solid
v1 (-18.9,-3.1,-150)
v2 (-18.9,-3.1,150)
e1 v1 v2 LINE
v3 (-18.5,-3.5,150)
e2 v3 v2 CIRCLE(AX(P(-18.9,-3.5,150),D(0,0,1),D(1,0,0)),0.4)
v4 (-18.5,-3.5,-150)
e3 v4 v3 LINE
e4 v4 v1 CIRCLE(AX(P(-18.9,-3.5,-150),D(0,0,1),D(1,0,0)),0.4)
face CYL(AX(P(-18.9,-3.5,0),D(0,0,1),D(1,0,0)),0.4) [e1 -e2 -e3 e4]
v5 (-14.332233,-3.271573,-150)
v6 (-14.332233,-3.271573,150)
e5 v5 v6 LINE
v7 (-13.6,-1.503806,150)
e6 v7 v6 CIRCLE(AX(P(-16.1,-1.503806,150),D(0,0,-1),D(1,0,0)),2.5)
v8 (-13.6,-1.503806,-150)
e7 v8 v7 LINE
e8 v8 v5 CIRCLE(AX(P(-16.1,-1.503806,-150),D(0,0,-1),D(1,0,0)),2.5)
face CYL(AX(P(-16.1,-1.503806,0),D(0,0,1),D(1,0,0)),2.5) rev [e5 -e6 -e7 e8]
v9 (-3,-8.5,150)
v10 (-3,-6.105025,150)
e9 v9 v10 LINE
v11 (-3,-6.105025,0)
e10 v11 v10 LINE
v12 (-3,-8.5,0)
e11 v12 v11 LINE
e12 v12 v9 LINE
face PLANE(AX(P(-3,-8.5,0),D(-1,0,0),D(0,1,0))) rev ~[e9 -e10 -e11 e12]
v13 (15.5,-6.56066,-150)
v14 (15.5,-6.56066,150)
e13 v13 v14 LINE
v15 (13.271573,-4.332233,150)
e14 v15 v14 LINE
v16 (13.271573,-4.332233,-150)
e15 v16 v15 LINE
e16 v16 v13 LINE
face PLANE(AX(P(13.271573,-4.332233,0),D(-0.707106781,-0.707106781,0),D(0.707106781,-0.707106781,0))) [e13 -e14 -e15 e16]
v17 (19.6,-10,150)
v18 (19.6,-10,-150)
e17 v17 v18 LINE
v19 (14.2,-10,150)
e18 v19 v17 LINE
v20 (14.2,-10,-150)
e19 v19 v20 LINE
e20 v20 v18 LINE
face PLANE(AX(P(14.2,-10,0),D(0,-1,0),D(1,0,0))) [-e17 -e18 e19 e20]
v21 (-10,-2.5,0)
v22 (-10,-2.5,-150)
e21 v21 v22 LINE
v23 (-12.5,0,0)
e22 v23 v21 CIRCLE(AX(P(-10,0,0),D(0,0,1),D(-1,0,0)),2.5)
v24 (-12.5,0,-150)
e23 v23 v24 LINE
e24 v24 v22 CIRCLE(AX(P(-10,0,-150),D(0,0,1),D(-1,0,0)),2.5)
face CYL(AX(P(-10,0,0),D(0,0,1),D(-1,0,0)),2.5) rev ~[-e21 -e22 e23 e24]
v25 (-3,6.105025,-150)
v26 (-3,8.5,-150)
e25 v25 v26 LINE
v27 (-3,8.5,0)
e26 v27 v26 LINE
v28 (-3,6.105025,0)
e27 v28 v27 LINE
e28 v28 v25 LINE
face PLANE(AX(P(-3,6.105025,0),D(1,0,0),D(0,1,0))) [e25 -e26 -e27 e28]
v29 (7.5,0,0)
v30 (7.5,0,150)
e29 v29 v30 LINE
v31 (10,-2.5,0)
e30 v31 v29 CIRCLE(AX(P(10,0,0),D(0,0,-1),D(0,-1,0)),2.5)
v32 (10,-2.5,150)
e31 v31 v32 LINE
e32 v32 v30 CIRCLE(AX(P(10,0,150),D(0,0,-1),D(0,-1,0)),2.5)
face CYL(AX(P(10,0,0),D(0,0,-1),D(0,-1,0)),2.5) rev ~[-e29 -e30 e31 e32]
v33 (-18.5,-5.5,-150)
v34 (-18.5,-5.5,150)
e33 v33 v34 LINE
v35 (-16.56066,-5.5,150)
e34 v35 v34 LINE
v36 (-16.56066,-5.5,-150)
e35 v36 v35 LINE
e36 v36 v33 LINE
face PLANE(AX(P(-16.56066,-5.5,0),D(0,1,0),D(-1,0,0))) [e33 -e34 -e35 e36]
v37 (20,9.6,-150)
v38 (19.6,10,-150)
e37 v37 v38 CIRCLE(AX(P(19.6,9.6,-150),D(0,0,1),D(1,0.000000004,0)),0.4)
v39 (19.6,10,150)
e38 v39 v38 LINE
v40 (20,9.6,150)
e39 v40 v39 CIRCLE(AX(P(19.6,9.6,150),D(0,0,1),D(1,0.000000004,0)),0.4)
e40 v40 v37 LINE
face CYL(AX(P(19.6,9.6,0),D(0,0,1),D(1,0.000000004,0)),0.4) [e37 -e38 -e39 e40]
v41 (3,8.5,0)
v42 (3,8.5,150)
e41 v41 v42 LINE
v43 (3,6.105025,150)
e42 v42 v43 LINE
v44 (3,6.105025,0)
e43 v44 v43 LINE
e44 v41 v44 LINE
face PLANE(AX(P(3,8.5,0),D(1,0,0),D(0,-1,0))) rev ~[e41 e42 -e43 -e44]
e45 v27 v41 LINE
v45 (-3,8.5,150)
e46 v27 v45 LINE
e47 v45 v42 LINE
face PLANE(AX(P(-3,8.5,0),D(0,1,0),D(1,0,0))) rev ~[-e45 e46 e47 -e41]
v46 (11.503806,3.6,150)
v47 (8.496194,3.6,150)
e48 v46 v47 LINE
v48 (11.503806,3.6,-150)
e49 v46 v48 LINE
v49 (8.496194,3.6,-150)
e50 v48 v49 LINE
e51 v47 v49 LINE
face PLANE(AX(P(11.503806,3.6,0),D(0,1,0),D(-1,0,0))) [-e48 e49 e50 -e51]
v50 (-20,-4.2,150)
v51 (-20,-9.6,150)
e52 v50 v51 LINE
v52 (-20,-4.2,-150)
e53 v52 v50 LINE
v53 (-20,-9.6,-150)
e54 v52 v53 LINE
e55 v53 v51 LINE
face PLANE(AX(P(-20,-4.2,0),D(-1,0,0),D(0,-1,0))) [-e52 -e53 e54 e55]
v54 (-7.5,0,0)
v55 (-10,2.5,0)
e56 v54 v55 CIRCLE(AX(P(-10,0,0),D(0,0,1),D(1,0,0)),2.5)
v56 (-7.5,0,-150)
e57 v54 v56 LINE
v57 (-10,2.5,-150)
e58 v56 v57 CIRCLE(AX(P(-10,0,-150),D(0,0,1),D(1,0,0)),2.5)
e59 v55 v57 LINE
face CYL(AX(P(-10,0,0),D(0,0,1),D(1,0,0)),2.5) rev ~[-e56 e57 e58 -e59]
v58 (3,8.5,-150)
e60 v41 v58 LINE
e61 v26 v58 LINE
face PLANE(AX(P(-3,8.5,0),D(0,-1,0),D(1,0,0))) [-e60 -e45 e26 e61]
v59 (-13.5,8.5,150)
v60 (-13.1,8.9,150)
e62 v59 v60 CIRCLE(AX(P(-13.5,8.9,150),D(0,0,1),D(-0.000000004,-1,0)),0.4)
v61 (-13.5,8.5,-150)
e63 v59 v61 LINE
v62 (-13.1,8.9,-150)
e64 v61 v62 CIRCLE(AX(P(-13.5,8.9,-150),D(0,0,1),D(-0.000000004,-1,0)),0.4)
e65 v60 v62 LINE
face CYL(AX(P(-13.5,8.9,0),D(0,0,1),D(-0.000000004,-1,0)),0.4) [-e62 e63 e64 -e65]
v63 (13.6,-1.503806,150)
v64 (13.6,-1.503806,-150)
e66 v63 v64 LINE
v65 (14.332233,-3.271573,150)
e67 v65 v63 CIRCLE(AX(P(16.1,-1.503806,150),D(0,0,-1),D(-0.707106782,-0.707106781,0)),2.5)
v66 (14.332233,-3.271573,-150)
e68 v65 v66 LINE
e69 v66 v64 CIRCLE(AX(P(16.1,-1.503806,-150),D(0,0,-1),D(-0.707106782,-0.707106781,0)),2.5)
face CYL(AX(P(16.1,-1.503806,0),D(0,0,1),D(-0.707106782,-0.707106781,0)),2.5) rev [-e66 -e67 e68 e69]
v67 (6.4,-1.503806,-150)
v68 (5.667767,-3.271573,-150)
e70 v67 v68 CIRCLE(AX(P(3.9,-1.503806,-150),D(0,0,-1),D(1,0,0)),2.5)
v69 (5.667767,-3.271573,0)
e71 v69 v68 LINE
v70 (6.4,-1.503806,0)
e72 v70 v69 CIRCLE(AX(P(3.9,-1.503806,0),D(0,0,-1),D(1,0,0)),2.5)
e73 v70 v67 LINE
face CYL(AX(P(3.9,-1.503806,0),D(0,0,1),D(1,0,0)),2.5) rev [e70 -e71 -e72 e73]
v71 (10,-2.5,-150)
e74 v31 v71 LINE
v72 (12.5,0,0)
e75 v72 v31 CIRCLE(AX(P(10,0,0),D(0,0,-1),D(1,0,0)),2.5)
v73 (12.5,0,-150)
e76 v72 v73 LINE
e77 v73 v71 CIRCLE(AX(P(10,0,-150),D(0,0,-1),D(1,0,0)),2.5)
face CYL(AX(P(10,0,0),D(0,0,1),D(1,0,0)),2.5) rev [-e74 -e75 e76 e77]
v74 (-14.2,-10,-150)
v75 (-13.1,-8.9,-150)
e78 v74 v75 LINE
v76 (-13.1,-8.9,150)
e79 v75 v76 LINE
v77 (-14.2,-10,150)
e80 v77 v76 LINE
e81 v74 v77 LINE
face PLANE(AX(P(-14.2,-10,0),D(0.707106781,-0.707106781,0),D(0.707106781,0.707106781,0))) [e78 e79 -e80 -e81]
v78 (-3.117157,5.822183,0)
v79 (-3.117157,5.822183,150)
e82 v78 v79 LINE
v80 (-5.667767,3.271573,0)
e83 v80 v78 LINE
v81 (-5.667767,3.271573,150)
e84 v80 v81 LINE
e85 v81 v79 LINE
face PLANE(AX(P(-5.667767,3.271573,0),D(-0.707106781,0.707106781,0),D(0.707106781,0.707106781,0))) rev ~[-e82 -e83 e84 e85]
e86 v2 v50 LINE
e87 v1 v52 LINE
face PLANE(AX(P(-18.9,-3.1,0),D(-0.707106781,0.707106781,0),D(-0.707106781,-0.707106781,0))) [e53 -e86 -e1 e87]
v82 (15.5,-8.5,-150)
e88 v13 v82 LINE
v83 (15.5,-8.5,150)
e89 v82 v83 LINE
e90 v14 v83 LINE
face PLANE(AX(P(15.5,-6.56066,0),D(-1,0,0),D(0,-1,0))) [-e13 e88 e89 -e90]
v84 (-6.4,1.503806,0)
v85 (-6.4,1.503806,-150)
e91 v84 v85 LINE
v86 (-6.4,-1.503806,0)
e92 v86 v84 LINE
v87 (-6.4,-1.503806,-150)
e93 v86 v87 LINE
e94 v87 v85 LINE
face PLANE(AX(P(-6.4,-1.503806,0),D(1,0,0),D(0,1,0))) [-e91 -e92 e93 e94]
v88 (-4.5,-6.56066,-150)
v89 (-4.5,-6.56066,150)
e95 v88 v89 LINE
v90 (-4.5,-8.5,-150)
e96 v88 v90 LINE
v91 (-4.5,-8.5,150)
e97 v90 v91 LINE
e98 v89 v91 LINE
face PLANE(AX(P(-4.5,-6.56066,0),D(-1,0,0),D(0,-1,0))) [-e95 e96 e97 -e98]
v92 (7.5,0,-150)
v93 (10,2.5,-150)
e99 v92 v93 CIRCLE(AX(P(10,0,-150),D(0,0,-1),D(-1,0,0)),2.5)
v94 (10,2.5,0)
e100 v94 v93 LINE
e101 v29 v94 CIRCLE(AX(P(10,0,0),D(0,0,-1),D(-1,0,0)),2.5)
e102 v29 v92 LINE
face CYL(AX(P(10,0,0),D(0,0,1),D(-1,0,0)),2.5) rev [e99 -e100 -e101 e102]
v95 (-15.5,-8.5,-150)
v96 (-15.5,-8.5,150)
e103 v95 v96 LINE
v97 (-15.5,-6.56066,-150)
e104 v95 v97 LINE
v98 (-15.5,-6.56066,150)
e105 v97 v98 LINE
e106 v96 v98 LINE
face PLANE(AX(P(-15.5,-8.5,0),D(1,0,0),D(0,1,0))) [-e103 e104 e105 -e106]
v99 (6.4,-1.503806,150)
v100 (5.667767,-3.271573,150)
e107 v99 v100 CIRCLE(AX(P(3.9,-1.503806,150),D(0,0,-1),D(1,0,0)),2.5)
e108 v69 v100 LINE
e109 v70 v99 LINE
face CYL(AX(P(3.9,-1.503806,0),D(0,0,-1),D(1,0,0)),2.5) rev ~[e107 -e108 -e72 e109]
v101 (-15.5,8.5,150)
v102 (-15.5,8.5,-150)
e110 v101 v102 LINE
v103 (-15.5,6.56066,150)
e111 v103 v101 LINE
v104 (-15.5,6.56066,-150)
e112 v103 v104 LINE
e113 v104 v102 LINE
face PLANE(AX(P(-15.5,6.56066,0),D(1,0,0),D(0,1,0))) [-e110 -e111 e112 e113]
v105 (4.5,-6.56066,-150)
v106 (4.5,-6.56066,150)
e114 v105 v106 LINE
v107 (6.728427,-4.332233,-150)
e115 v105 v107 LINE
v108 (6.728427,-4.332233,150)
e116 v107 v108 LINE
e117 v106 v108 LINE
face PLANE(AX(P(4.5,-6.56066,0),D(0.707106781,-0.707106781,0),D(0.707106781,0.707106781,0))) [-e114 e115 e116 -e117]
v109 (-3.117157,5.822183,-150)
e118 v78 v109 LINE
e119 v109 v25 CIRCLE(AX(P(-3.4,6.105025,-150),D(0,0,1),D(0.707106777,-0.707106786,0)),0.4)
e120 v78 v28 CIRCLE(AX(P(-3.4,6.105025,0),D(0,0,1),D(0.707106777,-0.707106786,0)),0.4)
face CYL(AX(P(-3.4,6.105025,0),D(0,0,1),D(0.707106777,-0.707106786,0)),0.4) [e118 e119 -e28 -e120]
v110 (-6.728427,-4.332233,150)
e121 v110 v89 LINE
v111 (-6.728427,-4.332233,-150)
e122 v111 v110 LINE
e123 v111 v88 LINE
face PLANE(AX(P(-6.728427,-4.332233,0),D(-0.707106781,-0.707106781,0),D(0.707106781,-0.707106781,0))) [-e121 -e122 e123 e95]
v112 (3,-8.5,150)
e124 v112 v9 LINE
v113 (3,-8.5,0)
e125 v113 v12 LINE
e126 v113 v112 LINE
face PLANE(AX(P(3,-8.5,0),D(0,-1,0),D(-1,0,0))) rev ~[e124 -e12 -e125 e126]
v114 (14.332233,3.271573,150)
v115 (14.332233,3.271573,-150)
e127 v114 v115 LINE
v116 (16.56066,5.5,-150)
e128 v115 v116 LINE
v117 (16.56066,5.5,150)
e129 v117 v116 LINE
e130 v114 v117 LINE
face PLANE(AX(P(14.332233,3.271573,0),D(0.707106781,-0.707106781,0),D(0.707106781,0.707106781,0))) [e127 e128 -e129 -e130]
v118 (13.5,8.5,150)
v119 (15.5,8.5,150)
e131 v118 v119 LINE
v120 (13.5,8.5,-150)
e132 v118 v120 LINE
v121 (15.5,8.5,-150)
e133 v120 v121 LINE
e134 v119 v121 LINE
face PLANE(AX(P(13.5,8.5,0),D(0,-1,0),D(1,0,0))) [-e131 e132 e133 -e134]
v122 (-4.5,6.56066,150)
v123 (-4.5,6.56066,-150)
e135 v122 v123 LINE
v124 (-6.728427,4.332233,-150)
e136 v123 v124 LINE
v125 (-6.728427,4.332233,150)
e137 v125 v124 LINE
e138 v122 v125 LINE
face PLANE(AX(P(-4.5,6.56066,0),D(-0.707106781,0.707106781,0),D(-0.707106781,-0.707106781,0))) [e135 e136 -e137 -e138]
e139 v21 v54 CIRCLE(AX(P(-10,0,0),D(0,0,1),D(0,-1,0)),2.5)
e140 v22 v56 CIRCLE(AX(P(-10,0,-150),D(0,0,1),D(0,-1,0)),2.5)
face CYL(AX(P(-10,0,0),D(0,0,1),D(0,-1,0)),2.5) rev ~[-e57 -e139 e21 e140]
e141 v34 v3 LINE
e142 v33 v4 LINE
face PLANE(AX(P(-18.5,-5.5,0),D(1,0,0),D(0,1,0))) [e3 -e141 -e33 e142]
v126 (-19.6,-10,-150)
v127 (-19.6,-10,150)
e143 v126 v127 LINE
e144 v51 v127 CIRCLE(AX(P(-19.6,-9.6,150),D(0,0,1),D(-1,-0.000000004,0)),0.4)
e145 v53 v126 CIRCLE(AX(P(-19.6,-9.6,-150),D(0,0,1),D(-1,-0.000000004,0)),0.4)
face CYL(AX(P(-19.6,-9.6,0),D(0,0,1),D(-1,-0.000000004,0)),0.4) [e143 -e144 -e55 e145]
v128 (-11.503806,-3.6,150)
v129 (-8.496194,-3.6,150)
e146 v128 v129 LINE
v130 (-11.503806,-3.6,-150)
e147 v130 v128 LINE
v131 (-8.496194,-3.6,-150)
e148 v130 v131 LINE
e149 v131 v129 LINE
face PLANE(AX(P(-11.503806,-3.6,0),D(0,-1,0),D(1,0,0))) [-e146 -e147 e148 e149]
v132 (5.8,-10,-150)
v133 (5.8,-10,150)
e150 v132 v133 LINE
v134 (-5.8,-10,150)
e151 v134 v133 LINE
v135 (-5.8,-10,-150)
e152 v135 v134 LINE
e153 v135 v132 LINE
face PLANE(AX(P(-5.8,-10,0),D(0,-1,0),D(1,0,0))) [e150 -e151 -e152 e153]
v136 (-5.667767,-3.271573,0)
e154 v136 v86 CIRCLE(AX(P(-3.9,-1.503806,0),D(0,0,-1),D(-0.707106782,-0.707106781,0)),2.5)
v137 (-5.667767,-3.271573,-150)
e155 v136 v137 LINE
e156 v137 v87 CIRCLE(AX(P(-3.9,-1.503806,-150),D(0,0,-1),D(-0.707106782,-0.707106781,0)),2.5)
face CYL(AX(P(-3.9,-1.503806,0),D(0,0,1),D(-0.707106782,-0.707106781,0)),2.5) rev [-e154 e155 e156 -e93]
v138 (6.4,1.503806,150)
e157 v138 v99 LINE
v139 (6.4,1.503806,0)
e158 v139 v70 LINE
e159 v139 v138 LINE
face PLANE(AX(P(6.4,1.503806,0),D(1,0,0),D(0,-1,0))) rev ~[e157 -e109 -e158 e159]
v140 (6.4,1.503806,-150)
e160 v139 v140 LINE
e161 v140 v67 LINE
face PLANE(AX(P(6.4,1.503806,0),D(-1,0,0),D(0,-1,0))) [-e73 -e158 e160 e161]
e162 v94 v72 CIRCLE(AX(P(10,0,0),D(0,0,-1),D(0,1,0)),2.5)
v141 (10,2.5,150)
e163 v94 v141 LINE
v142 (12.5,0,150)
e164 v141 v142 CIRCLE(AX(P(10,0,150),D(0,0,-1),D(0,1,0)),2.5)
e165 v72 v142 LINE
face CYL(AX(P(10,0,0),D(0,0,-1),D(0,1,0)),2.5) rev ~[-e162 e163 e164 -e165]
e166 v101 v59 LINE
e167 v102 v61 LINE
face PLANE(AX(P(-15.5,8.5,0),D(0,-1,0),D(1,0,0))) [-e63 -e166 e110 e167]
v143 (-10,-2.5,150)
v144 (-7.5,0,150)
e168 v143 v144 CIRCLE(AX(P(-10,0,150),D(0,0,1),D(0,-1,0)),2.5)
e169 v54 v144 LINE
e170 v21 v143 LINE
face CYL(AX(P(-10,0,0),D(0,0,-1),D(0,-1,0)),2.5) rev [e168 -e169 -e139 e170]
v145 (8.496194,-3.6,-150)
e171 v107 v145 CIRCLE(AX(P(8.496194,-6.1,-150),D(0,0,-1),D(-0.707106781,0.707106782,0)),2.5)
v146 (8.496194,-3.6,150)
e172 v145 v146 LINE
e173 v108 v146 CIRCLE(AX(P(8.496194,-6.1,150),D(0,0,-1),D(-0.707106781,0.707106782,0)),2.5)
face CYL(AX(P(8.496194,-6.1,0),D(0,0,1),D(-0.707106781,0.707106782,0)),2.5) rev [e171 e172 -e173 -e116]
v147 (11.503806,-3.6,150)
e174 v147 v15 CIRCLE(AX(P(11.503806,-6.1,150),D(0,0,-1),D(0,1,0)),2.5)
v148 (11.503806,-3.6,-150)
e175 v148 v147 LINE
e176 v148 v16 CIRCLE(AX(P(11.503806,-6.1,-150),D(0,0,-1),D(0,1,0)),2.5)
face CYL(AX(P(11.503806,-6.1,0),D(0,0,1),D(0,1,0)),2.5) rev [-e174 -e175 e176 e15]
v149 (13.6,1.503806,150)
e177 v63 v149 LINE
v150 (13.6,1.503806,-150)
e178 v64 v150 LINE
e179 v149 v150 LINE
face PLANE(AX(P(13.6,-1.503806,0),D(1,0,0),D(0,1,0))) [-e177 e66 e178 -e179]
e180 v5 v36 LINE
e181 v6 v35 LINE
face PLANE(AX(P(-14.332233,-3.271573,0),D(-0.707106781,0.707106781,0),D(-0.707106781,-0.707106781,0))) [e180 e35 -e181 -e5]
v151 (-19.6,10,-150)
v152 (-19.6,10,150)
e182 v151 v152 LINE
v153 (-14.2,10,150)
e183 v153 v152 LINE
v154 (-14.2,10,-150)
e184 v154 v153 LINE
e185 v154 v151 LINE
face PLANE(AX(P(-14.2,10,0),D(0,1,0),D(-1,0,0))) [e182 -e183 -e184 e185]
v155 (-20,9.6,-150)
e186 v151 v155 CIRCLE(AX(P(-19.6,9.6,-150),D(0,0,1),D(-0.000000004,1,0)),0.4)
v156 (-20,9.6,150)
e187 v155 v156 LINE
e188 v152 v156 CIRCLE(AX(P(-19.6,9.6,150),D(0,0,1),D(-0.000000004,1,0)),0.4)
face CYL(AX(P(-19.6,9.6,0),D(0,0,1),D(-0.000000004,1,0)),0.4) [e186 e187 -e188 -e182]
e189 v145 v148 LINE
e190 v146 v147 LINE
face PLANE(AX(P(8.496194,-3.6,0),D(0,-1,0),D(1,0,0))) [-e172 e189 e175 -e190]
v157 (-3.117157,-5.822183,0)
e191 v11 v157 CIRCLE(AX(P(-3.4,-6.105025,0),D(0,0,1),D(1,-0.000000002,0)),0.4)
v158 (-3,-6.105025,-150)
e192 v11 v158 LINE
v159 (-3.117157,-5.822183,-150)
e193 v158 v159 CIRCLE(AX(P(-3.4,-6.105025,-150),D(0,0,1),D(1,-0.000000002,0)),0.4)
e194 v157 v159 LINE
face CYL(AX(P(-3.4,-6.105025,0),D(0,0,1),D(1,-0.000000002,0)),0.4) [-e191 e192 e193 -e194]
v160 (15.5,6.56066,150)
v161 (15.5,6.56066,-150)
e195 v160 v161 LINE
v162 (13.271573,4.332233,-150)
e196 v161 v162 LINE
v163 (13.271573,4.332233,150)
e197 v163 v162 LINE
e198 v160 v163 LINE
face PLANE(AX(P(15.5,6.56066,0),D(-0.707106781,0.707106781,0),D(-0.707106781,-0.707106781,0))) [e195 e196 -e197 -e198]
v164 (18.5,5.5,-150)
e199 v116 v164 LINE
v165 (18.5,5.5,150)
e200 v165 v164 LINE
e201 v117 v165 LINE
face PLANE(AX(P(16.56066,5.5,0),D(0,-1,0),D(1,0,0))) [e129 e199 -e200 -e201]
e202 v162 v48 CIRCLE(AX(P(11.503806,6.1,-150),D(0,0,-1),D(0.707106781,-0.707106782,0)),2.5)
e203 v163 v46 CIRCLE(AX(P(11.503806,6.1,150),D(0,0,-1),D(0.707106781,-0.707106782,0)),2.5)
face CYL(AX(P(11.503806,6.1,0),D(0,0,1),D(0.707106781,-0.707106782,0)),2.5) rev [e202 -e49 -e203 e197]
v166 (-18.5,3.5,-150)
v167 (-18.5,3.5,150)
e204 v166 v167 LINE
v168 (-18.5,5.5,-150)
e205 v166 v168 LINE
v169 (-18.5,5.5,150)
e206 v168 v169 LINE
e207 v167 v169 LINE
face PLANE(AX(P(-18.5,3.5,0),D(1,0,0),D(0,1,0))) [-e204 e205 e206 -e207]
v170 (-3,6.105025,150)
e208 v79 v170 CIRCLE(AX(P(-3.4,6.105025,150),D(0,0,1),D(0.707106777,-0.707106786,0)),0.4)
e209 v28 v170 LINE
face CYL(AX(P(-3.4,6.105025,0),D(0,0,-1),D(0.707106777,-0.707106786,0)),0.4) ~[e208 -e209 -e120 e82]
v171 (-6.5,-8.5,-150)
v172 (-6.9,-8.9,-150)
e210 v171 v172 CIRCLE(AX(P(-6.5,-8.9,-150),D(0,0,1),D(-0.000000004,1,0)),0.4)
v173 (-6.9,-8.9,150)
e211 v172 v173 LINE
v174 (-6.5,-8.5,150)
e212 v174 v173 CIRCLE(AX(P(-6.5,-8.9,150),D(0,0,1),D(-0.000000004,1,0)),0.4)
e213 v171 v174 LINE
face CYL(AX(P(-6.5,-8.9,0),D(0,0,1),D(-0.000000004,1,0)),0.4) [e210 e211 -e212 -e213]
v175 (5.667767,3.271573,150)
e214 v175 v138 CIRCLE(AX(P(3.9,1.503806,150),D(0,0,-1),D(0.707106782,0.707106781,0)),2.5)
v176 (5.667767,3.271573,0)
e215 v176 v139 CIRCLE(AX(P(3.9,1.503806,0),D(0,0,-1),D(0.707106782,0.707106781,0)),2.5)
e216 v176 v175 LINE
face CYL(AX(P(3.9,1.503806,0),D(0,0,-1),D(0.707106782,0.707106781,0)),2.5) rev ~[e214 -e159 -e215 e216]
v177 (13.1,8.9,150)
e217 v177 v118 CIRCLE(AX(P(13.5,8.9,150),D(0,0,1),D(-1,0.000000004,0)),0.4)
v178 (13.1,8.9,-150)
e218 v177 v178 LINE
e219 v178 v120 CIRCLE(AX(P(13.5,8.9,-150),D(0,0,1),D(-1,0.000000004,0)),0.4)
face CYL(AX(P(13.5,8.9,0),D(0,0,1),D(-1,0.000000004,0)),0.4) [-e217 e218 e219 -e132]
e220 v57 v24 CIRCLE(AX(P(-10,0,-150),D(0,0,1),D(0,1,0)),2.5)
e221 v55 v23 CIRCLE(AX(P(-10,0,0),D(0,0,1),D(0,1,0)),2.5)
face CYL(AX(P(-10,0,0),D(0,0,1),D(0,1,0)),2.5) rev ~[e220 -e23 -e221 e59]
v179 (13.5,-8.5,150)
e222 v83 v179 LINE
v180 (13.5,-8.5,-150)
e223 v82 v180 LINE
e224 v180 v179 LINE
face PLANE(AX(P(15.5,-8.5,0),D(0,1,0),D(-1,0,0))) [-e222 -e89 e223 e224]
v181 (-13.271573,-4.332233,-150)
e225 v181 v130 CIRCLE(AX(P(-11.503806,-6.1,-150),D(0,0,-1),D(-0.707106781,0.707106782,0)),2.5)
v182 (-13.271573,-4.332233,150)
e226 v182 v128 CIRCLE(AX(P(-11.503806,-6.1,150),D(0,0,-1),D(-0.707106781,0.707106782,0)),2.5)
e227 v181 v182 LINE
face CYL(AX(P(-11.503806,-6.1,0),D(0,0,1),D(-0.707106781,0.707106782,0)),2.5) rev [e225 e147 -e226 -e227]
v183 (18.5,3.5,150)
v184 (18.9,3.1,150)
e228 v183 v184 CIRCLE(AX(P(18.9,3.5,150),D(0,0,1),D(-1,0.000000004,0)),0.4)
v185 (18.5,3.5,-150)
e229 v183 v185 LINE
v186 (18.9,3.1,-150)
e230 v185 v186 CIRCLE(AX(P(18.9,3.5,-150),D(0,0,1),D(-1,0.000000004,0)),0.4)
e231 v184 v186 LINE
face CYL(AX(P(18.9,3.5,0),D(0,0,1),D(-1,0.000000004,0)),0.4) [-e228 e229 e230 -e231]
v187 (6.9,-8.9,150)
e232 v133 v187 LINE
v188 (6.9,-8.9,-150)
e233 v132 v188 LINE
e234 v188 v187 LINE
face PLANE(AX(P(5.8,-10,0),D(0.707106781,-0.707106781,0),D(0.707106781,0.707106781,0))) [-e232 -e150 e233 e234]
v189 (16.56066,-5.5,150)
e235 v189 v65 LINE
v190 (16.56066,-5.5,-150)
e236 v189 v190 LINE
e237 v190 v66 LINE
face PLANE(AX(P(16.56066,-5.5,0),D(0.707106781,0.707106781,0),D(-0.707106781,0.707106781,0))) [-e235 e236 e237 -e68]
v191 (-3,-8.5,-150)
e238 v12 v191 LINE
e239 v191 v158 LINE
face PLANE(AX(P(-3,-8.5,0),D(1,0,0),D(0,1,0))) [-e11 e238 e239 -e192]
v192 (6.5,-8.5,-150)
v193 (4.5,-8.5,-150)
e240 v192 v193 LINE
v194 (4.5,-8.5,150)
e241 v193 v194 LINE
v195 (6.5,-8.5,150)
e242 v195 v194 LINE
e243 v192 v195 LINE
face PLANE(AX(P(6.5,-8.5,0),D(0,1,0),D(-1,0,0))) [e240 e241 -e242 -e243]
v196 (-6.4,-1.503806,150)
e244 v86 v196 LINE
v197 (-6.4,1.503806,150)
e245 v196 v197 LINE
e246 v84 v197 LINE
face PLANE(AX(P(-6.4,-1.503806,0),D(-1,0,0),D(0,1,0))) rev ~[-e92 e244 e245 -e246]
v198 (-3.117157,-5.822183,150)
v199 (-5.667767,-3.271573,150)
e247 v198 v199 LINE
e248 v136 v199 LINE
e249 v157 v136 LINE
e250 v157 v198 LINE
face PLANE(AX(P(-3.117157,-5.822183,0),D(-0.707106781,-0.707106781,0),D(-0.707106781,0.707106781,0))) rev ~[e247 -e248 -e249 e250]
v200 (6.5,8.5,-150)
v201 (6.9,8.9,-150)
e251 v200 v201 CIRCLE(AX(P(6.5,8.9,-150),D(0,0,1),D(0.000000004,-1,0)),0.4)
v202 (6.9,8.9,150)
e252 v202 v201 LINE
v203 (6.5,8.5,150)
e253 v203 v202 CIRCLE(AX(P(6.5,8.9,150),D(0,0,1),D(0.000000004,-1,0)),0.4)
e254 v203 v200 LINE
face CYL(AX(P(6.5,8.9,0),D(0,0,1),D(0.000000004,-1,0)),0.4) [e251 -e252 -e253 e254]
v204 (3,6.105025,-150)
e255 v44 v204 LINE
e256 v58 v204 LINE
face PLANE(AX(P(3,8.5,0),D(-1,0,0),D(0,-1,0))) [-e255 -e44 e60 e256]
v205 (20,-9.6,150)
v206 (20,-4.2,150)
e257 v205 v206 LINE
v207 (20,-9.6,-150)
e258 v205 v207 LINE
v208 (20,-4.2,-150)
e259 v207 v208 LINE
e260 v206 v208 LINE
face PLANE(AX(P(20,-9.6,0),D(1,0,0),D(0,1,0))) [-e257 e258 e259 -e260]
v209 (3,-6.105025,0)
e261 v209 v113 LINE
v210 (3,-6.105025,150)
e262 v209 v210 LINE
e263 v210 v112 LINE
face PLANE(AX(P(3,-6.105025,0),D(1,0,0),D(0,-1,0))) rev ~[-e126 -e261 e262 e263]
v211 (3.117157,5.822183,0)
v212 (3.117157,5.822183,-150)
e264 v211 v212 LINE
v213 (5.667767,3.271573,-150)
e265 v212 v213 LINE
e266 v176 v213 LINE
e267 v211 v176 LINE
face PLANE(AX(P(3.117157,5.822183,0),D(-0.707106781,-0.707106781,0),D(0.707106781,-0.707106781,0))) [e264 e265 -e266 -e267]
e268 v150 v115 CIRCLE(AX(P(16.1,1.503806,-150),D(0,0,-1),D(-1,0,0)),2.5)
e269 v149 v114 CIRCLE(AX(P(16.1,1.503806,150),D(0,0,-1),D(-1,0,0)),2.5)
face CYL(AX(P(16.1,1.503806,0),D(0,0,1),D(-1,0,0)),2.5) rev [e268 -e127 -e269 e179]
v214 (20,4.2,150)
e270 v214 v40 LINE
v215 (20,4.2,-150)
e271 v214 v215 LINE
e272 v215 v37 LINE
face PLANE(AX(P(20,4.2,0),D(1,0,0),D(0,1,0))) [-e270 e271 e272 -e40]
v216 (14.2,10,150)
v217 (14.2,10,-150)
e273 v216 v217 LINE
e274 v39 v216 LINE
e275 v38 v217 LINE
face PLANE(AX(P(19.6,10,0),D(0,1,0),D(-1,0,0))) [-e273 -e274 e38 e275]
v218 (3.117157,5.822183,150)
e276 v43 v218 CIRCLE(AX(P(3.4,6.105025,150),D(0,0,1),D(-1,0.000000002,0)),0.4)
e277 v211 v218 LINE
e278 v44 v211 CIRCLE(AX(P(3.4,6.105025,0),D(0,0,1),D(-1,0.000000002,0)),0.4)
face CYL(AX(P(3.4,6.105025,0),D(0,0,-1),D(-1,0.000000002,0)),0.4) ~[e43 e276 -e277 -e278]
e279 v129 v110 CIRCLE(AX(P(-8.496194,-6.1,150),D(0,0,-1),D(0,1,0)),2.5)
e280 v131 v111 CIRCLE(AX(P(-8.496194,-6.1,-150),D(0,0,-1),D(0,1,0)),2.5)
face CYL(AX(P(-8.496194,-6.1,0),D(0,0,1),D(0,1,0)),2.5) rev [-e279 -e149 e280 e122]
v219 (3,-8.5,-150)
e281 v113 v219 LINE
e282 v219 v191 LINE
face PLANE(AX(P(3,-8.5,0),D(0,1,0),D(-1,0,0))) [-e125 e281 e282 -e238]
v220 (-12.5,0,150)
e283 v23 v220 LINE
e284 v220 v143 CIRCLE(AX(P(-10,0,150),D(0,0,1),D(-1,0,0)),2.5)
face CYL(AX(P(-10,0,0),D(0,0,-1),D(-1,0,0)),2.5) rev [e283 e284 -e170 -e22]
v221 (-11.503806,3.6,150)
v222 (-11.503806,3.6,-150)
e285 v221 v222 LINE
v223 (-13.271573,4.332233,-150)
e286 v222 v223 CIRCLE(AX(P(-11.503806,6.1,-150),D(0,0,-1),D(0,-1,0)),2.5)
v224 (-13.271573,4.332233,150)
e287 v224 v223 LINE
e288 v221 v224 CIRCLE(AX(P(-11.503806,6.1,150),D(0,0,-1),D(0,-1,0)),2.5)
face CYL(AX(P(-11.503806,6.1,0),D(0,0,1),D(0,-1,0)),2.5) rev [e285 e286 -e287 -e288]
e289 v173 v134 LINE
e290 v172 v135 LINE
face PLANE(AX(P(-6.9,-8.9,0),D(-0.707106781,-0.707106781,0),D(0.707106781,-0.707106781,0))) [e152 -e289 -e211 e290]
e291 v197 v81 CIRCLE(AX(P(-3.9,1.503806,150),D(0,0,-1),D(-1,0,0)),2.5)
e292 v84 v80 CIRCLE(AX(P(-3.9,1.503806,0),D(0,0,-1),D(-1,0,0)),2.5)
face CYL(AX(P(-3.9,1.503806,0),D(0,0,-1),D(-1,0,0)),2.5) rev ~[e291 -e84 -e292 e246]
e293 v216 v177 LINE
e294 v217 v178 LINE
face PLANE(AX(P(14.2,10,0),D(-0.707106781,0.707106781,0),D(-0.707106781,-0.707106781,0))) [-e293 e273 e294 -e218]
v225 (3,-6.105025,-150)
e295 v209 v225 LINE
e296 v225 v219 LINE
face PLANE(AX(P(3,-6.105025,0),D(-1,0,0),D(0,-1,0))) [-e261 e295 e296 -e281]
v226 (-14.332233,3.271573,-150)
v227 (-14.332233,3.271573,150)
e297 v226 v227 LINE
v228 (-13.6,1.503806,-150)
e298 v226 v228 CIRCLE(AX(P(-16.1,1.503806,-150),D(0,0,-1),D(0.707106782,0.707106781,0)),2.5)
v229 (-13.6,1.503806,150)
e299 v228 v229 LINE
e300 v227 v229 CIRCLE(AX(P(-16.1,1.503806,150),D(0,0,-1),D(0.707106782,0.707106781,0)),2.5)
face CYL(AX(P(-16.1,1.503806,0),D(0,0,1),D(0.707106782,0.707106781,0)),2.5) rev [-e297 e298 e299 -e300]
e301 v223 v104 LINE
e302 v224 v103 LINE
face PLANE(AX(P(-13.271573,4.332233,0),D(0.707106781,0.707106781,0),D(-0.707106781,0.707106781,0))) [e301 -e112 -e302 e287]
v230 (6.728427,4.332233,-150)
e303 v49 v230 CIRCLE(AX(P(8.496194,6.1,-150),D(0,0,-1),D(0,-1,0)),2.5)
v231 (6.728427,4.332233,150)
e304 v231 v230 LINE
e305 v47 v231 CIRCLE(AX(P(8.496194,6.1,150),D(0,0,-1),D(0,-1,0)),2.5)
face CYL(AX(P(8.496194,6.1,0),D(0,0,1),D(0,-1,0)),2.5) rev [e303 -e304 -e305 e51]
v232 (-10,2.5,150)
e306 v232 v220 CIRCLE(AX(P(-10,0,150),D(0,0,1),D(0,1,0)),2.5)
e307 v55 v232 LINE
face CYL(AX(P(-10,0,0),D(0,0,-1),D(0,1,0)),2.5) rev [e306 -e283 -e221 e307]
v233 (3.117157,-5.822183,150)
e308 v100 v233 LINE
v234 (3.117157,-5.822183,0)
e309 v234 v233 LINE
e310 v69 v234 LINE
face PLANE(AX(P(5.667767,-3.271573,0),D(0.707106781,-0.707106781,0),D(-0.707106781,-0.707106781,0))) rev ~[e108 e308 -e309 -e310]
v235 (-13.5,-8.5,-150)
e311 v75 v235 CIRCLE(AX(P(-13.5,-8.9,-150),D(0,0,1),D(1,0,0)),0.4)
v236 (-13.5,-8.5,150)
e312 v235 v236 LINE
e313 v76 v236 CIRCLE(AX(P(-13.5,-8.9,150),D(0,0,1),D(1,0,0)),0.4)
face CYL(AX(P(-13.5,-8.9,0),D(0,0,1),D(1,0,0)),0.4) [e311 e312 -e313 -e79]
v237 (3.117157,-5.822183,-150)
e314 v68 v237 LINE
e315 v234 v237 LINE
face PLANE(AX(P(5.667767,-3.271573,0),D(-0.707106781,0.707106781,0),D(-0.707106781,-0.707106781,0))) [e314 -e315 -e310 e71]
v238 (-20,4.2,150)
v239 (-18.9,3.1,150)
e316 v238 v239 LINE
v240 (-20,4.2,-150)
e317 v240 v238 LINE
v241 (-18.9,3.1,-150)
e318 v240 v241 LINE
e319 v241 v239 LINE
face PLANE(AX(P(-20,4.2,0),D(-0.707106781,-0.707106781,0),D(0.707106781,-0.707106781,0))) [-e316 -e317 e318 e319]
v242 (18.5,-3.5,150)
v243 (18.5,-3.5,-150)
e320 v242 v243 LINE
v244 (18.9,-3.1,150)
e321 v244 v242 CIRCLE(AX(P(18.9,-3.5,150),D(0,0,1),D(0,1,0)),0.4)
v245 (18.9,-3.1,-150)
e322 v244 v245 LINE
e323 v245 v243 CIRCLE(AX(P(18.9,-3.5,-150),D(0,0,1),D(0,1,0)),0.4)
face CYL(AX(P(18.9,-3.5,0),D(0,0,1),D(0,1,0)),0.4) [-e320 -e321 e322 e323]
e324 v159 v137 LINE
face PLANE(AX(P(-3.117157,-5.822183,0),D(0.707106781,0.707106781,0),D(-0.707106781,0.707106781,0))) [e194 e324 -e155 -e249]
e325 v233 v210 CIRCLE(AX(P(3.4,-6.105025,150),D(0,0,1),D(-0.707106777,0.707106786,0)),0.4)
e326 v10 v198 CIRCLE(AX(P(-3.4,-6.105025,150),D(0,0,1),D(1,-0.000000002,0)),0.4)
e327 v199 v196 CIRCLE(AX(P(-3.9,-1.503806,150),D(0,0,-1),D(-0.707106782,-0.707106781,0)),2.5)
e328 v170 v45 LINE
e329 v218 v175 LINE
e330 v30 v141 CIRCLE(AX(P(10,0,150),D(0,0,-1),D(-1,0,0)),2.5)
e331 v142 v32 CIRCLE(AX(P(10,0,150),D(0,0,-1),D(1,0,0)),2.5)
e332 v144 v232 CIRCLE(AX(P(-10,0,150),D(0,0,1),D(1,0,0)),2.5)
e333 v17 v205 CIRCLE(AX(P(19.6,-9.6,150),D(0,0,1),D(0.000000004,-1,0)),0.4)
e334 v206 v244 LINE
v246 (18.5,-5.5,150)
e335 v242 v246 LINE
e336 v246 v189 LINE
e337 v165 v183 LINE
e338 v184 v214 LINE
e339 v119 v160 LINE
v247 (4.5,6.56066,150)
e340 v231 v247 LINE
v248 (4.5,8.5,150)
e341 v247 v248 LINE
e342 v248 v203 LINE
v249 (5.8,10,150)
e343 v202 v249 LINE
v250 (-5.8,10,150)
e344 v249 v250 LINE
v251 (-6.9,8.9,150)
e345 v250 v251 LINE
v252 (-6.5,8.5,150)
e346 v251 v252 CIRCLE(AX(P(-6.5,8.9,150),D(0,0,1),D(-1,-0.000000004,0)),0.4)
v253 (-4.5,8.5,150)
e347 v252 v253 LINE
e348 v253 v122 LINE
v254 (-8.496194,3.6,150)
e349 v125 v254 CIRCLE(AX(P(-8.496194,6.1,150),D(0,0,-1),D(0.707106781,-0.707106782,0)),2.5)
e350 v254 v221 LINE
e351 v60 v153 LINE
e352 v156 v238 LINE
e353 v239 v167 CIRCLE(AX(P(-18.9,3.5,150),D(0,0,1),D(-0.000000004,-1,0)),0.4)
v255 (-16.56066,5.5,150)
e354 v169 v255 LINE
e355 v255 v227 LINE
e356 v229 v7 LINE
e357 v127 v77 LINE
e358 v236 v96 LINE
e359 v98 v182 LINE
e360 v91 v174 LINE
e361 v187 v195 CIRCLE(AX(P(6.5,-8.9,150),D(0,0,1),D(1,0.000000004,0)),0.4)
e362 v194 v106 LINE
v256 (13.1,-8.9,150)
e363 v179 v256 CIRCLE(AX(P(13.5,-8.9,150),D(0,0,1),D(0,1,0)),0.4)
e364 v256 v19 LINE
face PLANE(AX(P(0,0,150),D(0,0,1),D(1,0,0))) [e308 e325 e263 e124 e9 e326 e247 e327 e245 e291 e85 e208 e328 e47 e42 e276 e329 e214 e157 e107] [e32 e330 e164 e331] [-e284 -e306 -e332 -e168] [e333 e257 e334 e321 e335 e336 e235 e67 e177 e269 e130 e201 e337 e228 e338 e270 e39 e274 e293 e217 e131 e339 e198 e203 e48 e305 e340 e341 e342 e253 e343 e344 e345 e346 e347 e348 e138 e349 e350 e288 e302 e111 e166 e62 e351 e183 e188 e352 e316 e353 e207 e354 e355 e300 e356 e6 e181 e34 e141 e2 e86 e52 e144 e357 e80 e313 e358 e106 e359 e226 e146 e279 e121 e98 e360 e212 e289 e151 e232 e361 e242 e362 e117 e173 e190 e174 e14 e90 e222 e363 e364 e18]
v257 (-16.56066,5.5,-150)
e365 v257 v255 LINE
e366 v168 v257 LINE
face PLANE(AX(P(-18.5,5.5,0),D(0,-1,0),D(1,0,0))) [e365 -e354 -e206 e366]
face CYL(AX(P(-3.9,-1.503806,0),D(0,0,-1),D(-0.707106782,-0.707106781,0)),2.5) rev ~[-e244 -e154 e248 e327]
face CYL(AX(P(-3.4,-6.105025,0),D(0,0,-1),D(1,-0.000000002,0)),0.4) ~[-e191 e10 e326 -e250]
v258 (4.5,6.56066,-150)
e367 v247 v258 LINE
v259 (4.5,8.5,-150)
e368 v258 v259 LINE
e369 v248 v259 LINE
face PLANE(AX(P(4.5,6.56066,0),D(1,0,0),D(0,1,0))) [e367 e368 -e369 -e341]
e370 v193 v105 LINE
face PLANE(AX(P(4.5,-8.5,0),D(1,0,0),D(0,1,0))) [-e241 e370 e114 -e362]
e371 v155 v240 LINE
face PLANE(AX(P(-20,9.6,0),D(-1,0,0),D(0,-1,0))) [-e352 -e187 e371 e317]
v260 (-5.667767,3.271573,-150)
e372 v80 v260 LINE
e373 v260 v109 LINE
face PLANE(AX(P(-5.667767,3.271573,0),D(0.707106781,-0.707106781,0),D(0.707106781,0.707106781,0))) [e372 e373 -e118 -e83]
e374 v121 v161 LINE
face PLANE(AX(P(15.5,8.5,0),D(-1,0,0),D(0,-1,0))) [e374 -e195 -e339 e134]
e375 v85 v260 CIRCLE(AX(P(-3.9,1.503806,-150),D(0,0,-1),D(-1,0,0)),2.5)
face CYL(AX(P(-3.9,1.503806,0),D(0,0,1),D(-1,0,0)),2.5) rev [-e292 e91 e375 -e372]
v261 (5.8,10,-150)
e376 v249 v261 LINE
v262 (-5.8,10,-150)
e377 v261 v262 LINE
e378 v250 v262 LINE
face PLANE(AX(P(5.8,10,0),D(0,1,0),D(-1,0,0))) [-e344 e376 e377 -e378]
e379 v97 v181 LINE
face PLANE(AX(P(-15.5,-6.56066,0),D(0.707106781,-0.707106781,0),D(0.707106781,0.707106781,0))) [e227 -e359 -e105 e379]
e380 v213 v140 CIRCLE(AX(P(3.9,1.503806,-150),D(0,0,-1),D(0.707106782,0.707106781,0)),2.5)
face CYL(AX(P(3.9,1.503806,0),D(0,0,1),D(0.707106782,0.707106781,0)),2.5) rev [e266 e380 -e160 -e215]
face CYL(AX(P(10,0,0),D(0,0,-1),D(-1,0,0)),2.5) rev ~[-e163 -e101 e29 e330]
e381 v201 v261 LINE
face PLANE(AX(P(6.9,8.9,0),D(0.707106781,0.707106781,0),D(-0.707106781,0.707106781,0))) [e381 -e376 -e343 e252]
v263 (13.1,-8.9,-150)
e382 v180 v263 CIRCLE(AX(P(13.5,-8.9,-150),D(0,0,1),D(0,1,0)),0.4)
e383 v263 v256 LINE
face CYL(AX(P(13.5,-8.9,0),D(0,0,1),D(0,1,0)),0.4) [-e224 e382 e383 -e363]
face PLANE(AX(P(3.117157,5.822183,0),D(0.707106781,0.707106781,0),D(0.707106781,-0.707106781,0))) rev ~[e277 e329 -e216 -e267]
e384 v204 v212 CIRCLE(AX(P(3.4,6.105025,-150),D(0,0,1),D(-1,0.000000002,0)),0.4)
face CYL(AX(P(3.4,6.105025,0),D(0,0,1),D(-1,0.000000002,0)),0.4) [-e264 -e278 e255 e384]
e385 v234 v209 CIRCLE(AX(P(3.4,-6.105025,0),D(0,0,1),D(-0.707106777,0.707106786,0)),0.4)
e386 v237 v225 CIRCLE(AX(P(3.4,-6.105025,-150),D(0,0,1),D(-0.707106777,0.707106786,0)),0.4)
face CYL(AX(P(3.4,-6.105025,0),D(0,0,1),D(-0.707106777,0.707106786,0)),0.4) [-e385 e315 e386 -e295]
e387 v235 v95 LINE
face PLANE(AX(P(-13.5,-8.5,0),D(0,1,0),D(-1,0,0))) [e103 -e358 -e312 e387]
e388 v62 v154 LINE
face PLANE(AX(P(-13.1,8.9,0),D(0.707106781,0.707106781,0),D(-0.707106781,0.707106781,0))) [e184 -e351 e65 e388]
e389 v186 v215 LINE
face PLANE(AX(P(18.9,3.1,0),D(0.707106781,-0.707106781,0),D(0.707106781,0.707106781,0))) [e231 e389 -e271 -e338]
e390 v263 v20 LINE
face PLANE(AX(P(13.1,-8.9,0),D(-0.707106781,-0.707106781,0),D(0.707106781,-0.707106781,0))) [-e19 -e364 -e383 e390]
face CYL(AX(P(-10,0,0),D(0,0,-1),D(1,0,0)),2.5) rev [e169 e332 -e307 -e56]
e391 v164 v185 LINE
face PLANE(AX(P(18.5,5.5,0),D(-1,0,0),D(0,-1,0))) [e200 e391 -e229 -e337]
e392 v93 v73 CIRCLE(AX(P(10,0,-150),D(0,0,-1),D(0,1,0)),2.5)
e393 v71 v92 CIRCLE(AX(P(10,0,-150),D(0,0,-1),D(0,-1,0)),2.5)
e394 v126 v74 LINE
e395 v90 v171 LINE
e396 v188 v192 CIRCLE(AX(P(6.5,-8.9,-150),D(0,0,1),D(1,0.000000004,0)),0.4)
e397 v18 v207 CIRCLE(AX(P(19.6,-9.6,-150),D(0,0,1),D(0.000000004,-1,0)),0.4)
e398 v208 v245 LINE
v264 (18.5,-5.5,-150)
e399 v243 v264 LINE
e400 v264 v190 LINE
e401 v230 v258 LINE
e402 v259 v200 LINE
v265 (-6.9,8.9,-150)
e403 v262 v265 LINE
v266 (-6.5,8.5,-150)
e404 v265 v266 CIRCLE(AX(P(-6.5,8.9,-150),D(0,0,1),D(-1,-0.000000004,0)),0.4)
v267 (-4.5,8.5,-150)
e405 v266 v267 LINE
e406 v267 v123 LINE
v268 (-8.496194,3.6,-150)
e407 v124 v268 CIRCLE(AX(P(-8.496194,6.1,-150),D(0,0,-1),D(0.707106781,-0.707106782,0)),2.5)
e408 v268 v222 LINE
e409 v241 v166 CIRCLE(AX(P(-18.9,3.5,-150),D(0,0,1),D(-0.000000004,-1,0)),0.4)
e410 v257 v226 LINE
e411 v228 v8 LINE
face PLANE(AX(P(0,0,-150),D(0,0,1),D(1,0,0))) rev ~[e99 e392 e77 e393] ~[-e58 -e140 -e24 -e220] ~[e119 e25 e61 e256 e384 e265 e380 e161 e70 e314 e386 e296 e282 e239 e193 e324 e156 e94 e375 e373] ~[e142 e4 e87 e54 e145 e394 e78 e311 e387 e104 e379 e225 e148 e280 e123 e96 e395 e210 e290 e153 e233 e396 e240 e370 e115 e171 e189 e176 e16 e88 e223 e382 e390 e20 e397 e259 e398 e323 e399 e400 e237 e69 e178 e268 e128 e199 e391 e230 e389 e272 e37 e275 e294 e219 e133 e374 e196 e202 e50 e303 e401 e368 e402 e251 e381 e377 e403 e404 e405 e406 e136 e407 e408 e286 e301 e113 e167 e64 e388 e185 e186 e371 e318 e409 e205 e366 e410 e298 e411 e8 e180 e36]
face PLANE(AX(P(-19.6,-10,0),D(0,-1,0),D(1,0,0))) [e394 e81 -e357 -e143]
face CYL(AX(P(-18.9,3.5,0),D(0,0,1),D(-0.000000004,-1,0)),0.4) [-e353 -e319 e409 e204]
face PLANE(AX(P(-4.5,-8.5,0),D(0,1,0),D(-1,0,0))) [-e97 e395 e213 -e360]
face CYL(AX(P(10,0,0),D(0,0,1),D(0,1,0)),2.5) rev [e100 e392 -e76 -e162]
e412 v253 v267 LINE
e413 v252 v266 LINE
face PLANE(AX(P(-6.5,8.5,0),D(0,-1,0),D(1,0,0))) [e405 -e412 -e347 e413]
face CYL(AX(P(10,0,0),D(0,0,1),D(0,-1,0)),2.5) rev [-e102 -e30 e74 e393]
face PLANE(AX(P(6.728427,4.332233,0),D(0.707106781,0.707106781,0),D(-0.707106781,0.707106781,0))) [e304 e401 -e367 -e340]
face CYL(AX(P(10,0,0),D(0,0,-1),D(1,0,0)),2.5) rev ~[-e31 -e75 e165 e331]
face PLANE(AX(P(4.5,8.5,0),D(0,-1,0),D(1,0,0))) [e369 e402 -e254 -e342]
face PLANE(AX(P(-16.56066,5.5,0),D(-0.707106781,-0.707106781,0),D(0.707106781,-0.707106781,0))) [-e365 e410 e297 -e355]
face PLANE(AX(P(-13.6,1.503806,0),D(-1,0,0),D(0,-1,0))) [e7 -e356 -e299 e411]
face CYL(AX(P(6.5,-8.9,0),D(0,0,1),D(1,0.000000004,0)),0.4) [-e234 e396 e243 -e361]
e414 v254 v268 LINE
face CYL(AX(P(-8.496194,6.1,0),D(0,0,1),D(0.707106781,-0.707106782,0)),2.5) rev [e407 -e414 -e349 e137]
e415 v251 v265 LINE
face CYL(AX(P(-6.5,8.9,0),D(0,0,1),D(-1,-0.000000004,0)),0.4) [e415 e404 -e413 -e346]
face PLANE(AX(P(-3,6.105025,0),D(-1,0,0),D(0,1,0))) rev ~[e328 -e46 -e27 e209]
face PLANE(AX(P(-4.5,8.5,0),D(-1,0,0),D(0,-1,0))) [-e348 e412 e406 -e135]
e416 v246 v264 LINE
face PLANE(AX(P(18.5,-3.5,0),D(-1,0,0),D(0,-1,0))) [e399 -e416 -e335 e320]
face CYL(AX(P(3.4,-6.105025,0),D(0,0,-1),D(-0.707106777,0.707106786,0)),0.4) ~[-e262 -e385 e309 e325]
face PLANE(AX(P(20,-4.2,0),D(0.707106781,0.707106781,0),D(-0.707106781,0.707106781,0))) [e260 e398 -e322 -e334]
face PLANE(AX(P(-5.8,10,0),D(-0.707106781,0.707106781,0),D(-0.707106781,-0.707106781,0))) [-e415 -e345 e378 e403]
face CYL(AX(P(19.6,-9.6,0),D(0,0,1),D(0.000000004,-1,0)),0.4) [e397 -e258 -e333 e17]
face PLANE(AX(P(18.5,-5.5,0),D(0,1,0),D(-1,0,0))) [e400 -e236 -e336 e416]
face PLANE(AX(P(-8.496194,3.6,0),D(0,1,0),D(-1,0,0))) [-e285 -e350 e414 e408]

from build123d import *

# Parameters (mm, degrees)
RESSALTO_EXTRUS_O1_DEPTH = 150


with BuildPart() as part:
    # Esboço1 → Ressalto-extrusão1 (new body, symmetric)
    with BuildSketch(Plane.XY):
        with BuildLine():
            Line((-13.1, 8.9), (-14.2, 10))
            Line((-14.2, 10), (-19.6, 10))
            ThreePointArc((-19.6, 10), (-19.882842712, 9.882842712), (-20, 9.6))
            Line((-20, 9.6), (-20, 4.2))
            Line((-20, 4.2), (-18.9, 3.1))
            ThreePointArc((-18.9, 3.1), (-18.617157287, 3.217157287), (-18.5, 3.5))
            Line((-18.5, 3.5), (-18.5, 5.5))
            Line((-18.5, 5.5), (-16.560660172, 5.5))
            Line((-16.560660172, 5.5), (-14.332233047, 3.271572875))
            ThreePointArc((-14.332233047, 3.271572875), (-13.790301169, 2.460514503), (-13.6, 1.503805922))
            Line((-13.6, 1.503805922), (-13.6, 0))
            Line((-13.6, 0), (-13.6, -1.503805922))
            ThreePointArc((-13.6, -1.503805922), (-13.790301169, -2.460514503), (-14.332233047, -3.271572875))
            Line((-14.332233047, -3.271572875), (-16.560660172, -5.5))
            Line((-16.560660172, -5.5), (-18.5, -5.5))
            Line((-18.5, -5.5), (-18.5, -3.5))
            ThreePointArc((-18.5, -3.5), (-18.617157287, -3.217157288), (-18.9, -3.1))
            Line((-18.9, -3.1), (-20, -4.2))
            Line((-20, -4.2), (-20, -9.6))
            ThreePointArc((-20, -9.6), (-19.882842712, -9.882842712), (-19.6, -10))
            Line((-19.6, -10), (-14.2, -10))
            Line((-14.2, -10), (-13.1, -8.9))
            ThreePointArc((-13.1, -8.9), (-13.217157287, -8.617157288), (-13.5, -8.5))
            Line((-13.5, -8.5), (-15.5, -8.5))
            Line((-15.5, -8.5), (-15.5, -6.560660172))
            Line((-15.5, -6.560660172), (-13.271572875, -4.332233047))
            ThreePointArc((-13.271572875, -4.332233047), (-12.460514503, -3.790301169), (-11.503805922, -3.6))
            Line((-11.503805922, -3.6), (-10, -3.6))
            Line((-10, -3.6), (-8.496194078, -3.6))
            ThreePointArc((-8.496194078, -3.6), (-7.539485497, -3.790301169), (-6.728427125, -4.332233047))
            Line((-6.728427125, -4.332233047), (-4.5, -6.560660172))
            Line((-4.5, -6.560660172), (-4.5, -8.5))
            Line((-4.5, -8.5), (-6.5, -8.5))
            ThreePointArc((-6.5, -8.5), (-6.782842712, -8.617157288), (-6.9, -8.9))
            Line((-6.9, -8.9), (-5.8, -10))
            Line((-5.8, -10), (5.8, -10))
            Line((5.8, -10), (6.9, -8.9))
            ThreePointArc((6.9, -8.9), (6.782842712, -8.617157288), (6.5, -8.5))
            Line((6.5, -8.5), (4.5, -8.5))
            Line((4.5, -8.5), (4.5, -6.560660172))
            Line((4.5, -6.560660172), (6.728427125, -4.332233047))
            ThreePointArc((6.728427125, -4.332233047), (7.539485497, -3.790301169), (8.496194078, -3.6))
            Line((8.496194078, -3.6), (10, -3.6))
            Line((10, -3.6), (11.503805922, -3.6))
            ThreePointArc((11.503805922, -3.6), (12.460514503, -3.790301169), (13.271572875, -4.332233047))
            Line((13.271572875, -4.332233047), (15.5, -6.560660172))
            Line((15.5, -6.560660172), (15.5, -8.5))
            Line((15.5, -8.5), (13.5, -8.5))
            ThreePointArc((13.5, -8.5), (13.217157287, -8.617157288), (13.1, -8.9))
            Line((13.1, -8.9), (14.2, -10))
            Line((14.2, -10), (19.6, -10))
            ThreePointArc((19.6, -10), (19.882842712, -9.882842712), (20, -9.6))
            Line((20, -9.6), (20, -4.2))
            Line((20, -4.2), (18.9, -3.1))
            ThreePointArc((18.9, -3.1), (18.617157287, -3.217157288), (18.5, -3.5))
            Line((18.5, -3.5), (18.5, -5.5))
            Line((18.5, -5.5), (16.560660172, -5.5))
            Line((16.560660172, -5.5), (14.332233047, -3.271572875))
            ThreePointArc((14.332233047, -3.271572875), (13.790301169, -2.460514503), (13.6, -1.503805922))
            Line((13.6, -1.503805922), (13.6, 0))
            Line((13.6, 0), (13.6, 1.503805922))
            ThreePointArc((13.6, 1.503805922), (13.790301169, 2.460514503), (14.332233047, 3.271572875))
            Line((14.332233047, 3.271572875), (16.560660172, 5.5))
            Line((16.560660172, 5.5), (18.5, 5.5))
            Line((18.5, 5.5), (18.5, 3.5))
            ThreePointArc((18.5, 3.5), (18.617157287, 3.217157287), (18.9, 3.1))
            Line((18.9, 3.1), (20, 4.2))
            Line((20, 4.2), (20, 9.6))
            ThreePointArc((20, 9.6), (19.882842712, 9.882842712), (19.6, 10))
            Line((19.6, 10), (14.2, 10))
            Line((14.2, 10), (13.1, 8.9))
            ThreePointArc((13.1, 8.9), (13.217157287, 8.617157287), (13.5, 8.5))
            Line((13.5, 8.5), (15.5, 8.5))
            Line((15.5, 8.5), (15.5, 6.560660172))
            Line((15.5, 6.560660172), (13.271572875, 4.332233047))
            ThreePointArc((13.271572875, 4.332233047), (12.460514503, 3.790301169), (11.503805922, 3.6))
            Line((11.503805922, 3.6), (10, 3.6))
            Line((10, 3.6), (8.496194078, 3.6))
            ThreePointArc((8.496194078, 3.6), (7.539485497, 3.790301169), (6.728427125, 4.332233047))
            Line((6.728427125, 4.332233047), (4.5, 6.560660172))
            Line((4.5, 6.560660172), (4.5, 8.5))
            Line((4.5, 8.5), (6.5, 8.5))
            ThreePointArc((6.5, 8.5), (6.782842712, 8.617157288), (6.9, 8.9))
            Line((6.9, 8.9), (5.8, 10))
            Line((5.8, 10), (-5.8, 10))
            Line((-5.8, 10), (-6.9, 8.9))
            ThreePointArc((-6.9, 8.9), (-6.782842712, 8.617157288), (-6.5, 8.5))
            Line((-6.5, 8.5), (-4.5, 8.5))
            Line((-4.5, 8.5), (-4.5, 6.560660172))
            Line((-4.5, 6.560660172), (-6.728427125, 4.332233047))
            ThreePointArc((-6.728427125, 4.332233047), (-7.539485497, 3.790301169), (-8.496194078, 3.6))
            Line((-8.496194078, 3.6), (-10, 3.6))
            Line((-10, 3.6), (-11.503805922, 3.6))
            ThreePointArc((-11.503805922, 3.6), (-12.460514503, 3.790301169), (-13.271572875, 4.332233047))
            Line((-13.271572875, 4.332233047), (-15.5, 6.560660172))
            Line((-15.5, 6.560660172), (-15.5, 8.5))
            Line((-15.5, 8.5), (-13.5, 8.5))
            ThreePointArc((-13.5, 8.5), (-13.217157287, 8.617157287), (-13.1, 8.9))
        make_face()
        with BuildLine():
            Line((-3, 8.5), (3, 8.5))
            Line((3, 8.5), (3, 6.105025253))
            ThreePointArc((3, 6.105025253), (3.030448187, 5.95195188), (3.117157288, 5.822182541))
            Line((3.117157288, 5.822182541), (5.667766953, 3.271572875))
            ThreePointArc((5.667766953, 3.271572875), (6.209698831, 2.460514503), (6.4, 1.503805922))
            Line((6.4, 1.503805922), (6.4, 0))
            Line((6.4, 0), (6.4, -1.503805922))
            ThreePointArc((6.4, -1.503805922), (6.209698831, -2.460514503), (5.667766953, -3.271572875))
            Line((5.667766953, -3.271572875), (3.117157288, -5.822182541))
            ThreePointArc((3.117157288, -5.822182541), (3.030448187, -5.95195188), (3, -6.105025253))
            Line((3, -6.105025253), (3, -8.5))
            Line((3, -8.5), (-3, -8.5))
            Line((-3, -8.5), (-3, -6.105025253))
            ThreePointArc((-3, -6.105025253), (-3.030448187, -5.95195188), (-3.117157288, -5.822182541))
            Line((-3.117157288, -5.822182541), (-5.667766953, -3.271572875))
            ThreePointArc((-5.667766953, -3.271572875), (-6.209698831, -2.460514503), (-6.4, -1.503805922))
            Line((-6.4, -1.503805922), (-6.4, 0))
            Line((-6.4, 0), (-6.4, 1.503805922))
            ThreePointArc((-6.4, 1.503805922), (-6.209698831, 2.460514503), (-5.667766953, 3.271572875))
            Line((-5.667766953, 3.271572875), (-3.117157288, 5.822182541))
            ThreePointArc((-3.117157288, 5.822182541), (-3.030448187, 5.95195188), (-3, 6.105025253))
            Line((-3, 6.105025253), (-3, 8.5))
        make_face(mode=Mode.SUBTRACT)
        with BuildLine():
            ThreePointArc((-10, 2.5), (-11.767766953, 1.767766953), (-12.5, 0))
            ThreePointArc((-12.5, 0), (-11.767766953, -1.767766953), (-10, -2.5))
            ThreePointArc((-10, -2.5), (-8.232233047, -1.767766953), (-7.5, 0))
            ThreePointArc((-7.5, 0), (-8.232233047, 1.767766953), (-10, 2.5))
        make_face(mode=Mode.SUBTRACT)
        with BuildLine():
            ThreePointArc((12.5, 0), (11.767766953, -1.767766953), (10, -2.5))
            ThreePointArc((10, -2.5), (8.232233047, -1.767766953), (7.5, 0))
            ThreePointArc((7.5, 0), (8.232233047, 1.767766953), (10, 2.5))
            ThreePointArc((10, 2.5), (11.767766953, 1.767766953), (12.5, 0))
        make_face(mode=Mode.SUBTRACT)
    extrude(amount=RESSALTO_EXTRUS_O1_DEPTH, both=True)


solid = part.part
